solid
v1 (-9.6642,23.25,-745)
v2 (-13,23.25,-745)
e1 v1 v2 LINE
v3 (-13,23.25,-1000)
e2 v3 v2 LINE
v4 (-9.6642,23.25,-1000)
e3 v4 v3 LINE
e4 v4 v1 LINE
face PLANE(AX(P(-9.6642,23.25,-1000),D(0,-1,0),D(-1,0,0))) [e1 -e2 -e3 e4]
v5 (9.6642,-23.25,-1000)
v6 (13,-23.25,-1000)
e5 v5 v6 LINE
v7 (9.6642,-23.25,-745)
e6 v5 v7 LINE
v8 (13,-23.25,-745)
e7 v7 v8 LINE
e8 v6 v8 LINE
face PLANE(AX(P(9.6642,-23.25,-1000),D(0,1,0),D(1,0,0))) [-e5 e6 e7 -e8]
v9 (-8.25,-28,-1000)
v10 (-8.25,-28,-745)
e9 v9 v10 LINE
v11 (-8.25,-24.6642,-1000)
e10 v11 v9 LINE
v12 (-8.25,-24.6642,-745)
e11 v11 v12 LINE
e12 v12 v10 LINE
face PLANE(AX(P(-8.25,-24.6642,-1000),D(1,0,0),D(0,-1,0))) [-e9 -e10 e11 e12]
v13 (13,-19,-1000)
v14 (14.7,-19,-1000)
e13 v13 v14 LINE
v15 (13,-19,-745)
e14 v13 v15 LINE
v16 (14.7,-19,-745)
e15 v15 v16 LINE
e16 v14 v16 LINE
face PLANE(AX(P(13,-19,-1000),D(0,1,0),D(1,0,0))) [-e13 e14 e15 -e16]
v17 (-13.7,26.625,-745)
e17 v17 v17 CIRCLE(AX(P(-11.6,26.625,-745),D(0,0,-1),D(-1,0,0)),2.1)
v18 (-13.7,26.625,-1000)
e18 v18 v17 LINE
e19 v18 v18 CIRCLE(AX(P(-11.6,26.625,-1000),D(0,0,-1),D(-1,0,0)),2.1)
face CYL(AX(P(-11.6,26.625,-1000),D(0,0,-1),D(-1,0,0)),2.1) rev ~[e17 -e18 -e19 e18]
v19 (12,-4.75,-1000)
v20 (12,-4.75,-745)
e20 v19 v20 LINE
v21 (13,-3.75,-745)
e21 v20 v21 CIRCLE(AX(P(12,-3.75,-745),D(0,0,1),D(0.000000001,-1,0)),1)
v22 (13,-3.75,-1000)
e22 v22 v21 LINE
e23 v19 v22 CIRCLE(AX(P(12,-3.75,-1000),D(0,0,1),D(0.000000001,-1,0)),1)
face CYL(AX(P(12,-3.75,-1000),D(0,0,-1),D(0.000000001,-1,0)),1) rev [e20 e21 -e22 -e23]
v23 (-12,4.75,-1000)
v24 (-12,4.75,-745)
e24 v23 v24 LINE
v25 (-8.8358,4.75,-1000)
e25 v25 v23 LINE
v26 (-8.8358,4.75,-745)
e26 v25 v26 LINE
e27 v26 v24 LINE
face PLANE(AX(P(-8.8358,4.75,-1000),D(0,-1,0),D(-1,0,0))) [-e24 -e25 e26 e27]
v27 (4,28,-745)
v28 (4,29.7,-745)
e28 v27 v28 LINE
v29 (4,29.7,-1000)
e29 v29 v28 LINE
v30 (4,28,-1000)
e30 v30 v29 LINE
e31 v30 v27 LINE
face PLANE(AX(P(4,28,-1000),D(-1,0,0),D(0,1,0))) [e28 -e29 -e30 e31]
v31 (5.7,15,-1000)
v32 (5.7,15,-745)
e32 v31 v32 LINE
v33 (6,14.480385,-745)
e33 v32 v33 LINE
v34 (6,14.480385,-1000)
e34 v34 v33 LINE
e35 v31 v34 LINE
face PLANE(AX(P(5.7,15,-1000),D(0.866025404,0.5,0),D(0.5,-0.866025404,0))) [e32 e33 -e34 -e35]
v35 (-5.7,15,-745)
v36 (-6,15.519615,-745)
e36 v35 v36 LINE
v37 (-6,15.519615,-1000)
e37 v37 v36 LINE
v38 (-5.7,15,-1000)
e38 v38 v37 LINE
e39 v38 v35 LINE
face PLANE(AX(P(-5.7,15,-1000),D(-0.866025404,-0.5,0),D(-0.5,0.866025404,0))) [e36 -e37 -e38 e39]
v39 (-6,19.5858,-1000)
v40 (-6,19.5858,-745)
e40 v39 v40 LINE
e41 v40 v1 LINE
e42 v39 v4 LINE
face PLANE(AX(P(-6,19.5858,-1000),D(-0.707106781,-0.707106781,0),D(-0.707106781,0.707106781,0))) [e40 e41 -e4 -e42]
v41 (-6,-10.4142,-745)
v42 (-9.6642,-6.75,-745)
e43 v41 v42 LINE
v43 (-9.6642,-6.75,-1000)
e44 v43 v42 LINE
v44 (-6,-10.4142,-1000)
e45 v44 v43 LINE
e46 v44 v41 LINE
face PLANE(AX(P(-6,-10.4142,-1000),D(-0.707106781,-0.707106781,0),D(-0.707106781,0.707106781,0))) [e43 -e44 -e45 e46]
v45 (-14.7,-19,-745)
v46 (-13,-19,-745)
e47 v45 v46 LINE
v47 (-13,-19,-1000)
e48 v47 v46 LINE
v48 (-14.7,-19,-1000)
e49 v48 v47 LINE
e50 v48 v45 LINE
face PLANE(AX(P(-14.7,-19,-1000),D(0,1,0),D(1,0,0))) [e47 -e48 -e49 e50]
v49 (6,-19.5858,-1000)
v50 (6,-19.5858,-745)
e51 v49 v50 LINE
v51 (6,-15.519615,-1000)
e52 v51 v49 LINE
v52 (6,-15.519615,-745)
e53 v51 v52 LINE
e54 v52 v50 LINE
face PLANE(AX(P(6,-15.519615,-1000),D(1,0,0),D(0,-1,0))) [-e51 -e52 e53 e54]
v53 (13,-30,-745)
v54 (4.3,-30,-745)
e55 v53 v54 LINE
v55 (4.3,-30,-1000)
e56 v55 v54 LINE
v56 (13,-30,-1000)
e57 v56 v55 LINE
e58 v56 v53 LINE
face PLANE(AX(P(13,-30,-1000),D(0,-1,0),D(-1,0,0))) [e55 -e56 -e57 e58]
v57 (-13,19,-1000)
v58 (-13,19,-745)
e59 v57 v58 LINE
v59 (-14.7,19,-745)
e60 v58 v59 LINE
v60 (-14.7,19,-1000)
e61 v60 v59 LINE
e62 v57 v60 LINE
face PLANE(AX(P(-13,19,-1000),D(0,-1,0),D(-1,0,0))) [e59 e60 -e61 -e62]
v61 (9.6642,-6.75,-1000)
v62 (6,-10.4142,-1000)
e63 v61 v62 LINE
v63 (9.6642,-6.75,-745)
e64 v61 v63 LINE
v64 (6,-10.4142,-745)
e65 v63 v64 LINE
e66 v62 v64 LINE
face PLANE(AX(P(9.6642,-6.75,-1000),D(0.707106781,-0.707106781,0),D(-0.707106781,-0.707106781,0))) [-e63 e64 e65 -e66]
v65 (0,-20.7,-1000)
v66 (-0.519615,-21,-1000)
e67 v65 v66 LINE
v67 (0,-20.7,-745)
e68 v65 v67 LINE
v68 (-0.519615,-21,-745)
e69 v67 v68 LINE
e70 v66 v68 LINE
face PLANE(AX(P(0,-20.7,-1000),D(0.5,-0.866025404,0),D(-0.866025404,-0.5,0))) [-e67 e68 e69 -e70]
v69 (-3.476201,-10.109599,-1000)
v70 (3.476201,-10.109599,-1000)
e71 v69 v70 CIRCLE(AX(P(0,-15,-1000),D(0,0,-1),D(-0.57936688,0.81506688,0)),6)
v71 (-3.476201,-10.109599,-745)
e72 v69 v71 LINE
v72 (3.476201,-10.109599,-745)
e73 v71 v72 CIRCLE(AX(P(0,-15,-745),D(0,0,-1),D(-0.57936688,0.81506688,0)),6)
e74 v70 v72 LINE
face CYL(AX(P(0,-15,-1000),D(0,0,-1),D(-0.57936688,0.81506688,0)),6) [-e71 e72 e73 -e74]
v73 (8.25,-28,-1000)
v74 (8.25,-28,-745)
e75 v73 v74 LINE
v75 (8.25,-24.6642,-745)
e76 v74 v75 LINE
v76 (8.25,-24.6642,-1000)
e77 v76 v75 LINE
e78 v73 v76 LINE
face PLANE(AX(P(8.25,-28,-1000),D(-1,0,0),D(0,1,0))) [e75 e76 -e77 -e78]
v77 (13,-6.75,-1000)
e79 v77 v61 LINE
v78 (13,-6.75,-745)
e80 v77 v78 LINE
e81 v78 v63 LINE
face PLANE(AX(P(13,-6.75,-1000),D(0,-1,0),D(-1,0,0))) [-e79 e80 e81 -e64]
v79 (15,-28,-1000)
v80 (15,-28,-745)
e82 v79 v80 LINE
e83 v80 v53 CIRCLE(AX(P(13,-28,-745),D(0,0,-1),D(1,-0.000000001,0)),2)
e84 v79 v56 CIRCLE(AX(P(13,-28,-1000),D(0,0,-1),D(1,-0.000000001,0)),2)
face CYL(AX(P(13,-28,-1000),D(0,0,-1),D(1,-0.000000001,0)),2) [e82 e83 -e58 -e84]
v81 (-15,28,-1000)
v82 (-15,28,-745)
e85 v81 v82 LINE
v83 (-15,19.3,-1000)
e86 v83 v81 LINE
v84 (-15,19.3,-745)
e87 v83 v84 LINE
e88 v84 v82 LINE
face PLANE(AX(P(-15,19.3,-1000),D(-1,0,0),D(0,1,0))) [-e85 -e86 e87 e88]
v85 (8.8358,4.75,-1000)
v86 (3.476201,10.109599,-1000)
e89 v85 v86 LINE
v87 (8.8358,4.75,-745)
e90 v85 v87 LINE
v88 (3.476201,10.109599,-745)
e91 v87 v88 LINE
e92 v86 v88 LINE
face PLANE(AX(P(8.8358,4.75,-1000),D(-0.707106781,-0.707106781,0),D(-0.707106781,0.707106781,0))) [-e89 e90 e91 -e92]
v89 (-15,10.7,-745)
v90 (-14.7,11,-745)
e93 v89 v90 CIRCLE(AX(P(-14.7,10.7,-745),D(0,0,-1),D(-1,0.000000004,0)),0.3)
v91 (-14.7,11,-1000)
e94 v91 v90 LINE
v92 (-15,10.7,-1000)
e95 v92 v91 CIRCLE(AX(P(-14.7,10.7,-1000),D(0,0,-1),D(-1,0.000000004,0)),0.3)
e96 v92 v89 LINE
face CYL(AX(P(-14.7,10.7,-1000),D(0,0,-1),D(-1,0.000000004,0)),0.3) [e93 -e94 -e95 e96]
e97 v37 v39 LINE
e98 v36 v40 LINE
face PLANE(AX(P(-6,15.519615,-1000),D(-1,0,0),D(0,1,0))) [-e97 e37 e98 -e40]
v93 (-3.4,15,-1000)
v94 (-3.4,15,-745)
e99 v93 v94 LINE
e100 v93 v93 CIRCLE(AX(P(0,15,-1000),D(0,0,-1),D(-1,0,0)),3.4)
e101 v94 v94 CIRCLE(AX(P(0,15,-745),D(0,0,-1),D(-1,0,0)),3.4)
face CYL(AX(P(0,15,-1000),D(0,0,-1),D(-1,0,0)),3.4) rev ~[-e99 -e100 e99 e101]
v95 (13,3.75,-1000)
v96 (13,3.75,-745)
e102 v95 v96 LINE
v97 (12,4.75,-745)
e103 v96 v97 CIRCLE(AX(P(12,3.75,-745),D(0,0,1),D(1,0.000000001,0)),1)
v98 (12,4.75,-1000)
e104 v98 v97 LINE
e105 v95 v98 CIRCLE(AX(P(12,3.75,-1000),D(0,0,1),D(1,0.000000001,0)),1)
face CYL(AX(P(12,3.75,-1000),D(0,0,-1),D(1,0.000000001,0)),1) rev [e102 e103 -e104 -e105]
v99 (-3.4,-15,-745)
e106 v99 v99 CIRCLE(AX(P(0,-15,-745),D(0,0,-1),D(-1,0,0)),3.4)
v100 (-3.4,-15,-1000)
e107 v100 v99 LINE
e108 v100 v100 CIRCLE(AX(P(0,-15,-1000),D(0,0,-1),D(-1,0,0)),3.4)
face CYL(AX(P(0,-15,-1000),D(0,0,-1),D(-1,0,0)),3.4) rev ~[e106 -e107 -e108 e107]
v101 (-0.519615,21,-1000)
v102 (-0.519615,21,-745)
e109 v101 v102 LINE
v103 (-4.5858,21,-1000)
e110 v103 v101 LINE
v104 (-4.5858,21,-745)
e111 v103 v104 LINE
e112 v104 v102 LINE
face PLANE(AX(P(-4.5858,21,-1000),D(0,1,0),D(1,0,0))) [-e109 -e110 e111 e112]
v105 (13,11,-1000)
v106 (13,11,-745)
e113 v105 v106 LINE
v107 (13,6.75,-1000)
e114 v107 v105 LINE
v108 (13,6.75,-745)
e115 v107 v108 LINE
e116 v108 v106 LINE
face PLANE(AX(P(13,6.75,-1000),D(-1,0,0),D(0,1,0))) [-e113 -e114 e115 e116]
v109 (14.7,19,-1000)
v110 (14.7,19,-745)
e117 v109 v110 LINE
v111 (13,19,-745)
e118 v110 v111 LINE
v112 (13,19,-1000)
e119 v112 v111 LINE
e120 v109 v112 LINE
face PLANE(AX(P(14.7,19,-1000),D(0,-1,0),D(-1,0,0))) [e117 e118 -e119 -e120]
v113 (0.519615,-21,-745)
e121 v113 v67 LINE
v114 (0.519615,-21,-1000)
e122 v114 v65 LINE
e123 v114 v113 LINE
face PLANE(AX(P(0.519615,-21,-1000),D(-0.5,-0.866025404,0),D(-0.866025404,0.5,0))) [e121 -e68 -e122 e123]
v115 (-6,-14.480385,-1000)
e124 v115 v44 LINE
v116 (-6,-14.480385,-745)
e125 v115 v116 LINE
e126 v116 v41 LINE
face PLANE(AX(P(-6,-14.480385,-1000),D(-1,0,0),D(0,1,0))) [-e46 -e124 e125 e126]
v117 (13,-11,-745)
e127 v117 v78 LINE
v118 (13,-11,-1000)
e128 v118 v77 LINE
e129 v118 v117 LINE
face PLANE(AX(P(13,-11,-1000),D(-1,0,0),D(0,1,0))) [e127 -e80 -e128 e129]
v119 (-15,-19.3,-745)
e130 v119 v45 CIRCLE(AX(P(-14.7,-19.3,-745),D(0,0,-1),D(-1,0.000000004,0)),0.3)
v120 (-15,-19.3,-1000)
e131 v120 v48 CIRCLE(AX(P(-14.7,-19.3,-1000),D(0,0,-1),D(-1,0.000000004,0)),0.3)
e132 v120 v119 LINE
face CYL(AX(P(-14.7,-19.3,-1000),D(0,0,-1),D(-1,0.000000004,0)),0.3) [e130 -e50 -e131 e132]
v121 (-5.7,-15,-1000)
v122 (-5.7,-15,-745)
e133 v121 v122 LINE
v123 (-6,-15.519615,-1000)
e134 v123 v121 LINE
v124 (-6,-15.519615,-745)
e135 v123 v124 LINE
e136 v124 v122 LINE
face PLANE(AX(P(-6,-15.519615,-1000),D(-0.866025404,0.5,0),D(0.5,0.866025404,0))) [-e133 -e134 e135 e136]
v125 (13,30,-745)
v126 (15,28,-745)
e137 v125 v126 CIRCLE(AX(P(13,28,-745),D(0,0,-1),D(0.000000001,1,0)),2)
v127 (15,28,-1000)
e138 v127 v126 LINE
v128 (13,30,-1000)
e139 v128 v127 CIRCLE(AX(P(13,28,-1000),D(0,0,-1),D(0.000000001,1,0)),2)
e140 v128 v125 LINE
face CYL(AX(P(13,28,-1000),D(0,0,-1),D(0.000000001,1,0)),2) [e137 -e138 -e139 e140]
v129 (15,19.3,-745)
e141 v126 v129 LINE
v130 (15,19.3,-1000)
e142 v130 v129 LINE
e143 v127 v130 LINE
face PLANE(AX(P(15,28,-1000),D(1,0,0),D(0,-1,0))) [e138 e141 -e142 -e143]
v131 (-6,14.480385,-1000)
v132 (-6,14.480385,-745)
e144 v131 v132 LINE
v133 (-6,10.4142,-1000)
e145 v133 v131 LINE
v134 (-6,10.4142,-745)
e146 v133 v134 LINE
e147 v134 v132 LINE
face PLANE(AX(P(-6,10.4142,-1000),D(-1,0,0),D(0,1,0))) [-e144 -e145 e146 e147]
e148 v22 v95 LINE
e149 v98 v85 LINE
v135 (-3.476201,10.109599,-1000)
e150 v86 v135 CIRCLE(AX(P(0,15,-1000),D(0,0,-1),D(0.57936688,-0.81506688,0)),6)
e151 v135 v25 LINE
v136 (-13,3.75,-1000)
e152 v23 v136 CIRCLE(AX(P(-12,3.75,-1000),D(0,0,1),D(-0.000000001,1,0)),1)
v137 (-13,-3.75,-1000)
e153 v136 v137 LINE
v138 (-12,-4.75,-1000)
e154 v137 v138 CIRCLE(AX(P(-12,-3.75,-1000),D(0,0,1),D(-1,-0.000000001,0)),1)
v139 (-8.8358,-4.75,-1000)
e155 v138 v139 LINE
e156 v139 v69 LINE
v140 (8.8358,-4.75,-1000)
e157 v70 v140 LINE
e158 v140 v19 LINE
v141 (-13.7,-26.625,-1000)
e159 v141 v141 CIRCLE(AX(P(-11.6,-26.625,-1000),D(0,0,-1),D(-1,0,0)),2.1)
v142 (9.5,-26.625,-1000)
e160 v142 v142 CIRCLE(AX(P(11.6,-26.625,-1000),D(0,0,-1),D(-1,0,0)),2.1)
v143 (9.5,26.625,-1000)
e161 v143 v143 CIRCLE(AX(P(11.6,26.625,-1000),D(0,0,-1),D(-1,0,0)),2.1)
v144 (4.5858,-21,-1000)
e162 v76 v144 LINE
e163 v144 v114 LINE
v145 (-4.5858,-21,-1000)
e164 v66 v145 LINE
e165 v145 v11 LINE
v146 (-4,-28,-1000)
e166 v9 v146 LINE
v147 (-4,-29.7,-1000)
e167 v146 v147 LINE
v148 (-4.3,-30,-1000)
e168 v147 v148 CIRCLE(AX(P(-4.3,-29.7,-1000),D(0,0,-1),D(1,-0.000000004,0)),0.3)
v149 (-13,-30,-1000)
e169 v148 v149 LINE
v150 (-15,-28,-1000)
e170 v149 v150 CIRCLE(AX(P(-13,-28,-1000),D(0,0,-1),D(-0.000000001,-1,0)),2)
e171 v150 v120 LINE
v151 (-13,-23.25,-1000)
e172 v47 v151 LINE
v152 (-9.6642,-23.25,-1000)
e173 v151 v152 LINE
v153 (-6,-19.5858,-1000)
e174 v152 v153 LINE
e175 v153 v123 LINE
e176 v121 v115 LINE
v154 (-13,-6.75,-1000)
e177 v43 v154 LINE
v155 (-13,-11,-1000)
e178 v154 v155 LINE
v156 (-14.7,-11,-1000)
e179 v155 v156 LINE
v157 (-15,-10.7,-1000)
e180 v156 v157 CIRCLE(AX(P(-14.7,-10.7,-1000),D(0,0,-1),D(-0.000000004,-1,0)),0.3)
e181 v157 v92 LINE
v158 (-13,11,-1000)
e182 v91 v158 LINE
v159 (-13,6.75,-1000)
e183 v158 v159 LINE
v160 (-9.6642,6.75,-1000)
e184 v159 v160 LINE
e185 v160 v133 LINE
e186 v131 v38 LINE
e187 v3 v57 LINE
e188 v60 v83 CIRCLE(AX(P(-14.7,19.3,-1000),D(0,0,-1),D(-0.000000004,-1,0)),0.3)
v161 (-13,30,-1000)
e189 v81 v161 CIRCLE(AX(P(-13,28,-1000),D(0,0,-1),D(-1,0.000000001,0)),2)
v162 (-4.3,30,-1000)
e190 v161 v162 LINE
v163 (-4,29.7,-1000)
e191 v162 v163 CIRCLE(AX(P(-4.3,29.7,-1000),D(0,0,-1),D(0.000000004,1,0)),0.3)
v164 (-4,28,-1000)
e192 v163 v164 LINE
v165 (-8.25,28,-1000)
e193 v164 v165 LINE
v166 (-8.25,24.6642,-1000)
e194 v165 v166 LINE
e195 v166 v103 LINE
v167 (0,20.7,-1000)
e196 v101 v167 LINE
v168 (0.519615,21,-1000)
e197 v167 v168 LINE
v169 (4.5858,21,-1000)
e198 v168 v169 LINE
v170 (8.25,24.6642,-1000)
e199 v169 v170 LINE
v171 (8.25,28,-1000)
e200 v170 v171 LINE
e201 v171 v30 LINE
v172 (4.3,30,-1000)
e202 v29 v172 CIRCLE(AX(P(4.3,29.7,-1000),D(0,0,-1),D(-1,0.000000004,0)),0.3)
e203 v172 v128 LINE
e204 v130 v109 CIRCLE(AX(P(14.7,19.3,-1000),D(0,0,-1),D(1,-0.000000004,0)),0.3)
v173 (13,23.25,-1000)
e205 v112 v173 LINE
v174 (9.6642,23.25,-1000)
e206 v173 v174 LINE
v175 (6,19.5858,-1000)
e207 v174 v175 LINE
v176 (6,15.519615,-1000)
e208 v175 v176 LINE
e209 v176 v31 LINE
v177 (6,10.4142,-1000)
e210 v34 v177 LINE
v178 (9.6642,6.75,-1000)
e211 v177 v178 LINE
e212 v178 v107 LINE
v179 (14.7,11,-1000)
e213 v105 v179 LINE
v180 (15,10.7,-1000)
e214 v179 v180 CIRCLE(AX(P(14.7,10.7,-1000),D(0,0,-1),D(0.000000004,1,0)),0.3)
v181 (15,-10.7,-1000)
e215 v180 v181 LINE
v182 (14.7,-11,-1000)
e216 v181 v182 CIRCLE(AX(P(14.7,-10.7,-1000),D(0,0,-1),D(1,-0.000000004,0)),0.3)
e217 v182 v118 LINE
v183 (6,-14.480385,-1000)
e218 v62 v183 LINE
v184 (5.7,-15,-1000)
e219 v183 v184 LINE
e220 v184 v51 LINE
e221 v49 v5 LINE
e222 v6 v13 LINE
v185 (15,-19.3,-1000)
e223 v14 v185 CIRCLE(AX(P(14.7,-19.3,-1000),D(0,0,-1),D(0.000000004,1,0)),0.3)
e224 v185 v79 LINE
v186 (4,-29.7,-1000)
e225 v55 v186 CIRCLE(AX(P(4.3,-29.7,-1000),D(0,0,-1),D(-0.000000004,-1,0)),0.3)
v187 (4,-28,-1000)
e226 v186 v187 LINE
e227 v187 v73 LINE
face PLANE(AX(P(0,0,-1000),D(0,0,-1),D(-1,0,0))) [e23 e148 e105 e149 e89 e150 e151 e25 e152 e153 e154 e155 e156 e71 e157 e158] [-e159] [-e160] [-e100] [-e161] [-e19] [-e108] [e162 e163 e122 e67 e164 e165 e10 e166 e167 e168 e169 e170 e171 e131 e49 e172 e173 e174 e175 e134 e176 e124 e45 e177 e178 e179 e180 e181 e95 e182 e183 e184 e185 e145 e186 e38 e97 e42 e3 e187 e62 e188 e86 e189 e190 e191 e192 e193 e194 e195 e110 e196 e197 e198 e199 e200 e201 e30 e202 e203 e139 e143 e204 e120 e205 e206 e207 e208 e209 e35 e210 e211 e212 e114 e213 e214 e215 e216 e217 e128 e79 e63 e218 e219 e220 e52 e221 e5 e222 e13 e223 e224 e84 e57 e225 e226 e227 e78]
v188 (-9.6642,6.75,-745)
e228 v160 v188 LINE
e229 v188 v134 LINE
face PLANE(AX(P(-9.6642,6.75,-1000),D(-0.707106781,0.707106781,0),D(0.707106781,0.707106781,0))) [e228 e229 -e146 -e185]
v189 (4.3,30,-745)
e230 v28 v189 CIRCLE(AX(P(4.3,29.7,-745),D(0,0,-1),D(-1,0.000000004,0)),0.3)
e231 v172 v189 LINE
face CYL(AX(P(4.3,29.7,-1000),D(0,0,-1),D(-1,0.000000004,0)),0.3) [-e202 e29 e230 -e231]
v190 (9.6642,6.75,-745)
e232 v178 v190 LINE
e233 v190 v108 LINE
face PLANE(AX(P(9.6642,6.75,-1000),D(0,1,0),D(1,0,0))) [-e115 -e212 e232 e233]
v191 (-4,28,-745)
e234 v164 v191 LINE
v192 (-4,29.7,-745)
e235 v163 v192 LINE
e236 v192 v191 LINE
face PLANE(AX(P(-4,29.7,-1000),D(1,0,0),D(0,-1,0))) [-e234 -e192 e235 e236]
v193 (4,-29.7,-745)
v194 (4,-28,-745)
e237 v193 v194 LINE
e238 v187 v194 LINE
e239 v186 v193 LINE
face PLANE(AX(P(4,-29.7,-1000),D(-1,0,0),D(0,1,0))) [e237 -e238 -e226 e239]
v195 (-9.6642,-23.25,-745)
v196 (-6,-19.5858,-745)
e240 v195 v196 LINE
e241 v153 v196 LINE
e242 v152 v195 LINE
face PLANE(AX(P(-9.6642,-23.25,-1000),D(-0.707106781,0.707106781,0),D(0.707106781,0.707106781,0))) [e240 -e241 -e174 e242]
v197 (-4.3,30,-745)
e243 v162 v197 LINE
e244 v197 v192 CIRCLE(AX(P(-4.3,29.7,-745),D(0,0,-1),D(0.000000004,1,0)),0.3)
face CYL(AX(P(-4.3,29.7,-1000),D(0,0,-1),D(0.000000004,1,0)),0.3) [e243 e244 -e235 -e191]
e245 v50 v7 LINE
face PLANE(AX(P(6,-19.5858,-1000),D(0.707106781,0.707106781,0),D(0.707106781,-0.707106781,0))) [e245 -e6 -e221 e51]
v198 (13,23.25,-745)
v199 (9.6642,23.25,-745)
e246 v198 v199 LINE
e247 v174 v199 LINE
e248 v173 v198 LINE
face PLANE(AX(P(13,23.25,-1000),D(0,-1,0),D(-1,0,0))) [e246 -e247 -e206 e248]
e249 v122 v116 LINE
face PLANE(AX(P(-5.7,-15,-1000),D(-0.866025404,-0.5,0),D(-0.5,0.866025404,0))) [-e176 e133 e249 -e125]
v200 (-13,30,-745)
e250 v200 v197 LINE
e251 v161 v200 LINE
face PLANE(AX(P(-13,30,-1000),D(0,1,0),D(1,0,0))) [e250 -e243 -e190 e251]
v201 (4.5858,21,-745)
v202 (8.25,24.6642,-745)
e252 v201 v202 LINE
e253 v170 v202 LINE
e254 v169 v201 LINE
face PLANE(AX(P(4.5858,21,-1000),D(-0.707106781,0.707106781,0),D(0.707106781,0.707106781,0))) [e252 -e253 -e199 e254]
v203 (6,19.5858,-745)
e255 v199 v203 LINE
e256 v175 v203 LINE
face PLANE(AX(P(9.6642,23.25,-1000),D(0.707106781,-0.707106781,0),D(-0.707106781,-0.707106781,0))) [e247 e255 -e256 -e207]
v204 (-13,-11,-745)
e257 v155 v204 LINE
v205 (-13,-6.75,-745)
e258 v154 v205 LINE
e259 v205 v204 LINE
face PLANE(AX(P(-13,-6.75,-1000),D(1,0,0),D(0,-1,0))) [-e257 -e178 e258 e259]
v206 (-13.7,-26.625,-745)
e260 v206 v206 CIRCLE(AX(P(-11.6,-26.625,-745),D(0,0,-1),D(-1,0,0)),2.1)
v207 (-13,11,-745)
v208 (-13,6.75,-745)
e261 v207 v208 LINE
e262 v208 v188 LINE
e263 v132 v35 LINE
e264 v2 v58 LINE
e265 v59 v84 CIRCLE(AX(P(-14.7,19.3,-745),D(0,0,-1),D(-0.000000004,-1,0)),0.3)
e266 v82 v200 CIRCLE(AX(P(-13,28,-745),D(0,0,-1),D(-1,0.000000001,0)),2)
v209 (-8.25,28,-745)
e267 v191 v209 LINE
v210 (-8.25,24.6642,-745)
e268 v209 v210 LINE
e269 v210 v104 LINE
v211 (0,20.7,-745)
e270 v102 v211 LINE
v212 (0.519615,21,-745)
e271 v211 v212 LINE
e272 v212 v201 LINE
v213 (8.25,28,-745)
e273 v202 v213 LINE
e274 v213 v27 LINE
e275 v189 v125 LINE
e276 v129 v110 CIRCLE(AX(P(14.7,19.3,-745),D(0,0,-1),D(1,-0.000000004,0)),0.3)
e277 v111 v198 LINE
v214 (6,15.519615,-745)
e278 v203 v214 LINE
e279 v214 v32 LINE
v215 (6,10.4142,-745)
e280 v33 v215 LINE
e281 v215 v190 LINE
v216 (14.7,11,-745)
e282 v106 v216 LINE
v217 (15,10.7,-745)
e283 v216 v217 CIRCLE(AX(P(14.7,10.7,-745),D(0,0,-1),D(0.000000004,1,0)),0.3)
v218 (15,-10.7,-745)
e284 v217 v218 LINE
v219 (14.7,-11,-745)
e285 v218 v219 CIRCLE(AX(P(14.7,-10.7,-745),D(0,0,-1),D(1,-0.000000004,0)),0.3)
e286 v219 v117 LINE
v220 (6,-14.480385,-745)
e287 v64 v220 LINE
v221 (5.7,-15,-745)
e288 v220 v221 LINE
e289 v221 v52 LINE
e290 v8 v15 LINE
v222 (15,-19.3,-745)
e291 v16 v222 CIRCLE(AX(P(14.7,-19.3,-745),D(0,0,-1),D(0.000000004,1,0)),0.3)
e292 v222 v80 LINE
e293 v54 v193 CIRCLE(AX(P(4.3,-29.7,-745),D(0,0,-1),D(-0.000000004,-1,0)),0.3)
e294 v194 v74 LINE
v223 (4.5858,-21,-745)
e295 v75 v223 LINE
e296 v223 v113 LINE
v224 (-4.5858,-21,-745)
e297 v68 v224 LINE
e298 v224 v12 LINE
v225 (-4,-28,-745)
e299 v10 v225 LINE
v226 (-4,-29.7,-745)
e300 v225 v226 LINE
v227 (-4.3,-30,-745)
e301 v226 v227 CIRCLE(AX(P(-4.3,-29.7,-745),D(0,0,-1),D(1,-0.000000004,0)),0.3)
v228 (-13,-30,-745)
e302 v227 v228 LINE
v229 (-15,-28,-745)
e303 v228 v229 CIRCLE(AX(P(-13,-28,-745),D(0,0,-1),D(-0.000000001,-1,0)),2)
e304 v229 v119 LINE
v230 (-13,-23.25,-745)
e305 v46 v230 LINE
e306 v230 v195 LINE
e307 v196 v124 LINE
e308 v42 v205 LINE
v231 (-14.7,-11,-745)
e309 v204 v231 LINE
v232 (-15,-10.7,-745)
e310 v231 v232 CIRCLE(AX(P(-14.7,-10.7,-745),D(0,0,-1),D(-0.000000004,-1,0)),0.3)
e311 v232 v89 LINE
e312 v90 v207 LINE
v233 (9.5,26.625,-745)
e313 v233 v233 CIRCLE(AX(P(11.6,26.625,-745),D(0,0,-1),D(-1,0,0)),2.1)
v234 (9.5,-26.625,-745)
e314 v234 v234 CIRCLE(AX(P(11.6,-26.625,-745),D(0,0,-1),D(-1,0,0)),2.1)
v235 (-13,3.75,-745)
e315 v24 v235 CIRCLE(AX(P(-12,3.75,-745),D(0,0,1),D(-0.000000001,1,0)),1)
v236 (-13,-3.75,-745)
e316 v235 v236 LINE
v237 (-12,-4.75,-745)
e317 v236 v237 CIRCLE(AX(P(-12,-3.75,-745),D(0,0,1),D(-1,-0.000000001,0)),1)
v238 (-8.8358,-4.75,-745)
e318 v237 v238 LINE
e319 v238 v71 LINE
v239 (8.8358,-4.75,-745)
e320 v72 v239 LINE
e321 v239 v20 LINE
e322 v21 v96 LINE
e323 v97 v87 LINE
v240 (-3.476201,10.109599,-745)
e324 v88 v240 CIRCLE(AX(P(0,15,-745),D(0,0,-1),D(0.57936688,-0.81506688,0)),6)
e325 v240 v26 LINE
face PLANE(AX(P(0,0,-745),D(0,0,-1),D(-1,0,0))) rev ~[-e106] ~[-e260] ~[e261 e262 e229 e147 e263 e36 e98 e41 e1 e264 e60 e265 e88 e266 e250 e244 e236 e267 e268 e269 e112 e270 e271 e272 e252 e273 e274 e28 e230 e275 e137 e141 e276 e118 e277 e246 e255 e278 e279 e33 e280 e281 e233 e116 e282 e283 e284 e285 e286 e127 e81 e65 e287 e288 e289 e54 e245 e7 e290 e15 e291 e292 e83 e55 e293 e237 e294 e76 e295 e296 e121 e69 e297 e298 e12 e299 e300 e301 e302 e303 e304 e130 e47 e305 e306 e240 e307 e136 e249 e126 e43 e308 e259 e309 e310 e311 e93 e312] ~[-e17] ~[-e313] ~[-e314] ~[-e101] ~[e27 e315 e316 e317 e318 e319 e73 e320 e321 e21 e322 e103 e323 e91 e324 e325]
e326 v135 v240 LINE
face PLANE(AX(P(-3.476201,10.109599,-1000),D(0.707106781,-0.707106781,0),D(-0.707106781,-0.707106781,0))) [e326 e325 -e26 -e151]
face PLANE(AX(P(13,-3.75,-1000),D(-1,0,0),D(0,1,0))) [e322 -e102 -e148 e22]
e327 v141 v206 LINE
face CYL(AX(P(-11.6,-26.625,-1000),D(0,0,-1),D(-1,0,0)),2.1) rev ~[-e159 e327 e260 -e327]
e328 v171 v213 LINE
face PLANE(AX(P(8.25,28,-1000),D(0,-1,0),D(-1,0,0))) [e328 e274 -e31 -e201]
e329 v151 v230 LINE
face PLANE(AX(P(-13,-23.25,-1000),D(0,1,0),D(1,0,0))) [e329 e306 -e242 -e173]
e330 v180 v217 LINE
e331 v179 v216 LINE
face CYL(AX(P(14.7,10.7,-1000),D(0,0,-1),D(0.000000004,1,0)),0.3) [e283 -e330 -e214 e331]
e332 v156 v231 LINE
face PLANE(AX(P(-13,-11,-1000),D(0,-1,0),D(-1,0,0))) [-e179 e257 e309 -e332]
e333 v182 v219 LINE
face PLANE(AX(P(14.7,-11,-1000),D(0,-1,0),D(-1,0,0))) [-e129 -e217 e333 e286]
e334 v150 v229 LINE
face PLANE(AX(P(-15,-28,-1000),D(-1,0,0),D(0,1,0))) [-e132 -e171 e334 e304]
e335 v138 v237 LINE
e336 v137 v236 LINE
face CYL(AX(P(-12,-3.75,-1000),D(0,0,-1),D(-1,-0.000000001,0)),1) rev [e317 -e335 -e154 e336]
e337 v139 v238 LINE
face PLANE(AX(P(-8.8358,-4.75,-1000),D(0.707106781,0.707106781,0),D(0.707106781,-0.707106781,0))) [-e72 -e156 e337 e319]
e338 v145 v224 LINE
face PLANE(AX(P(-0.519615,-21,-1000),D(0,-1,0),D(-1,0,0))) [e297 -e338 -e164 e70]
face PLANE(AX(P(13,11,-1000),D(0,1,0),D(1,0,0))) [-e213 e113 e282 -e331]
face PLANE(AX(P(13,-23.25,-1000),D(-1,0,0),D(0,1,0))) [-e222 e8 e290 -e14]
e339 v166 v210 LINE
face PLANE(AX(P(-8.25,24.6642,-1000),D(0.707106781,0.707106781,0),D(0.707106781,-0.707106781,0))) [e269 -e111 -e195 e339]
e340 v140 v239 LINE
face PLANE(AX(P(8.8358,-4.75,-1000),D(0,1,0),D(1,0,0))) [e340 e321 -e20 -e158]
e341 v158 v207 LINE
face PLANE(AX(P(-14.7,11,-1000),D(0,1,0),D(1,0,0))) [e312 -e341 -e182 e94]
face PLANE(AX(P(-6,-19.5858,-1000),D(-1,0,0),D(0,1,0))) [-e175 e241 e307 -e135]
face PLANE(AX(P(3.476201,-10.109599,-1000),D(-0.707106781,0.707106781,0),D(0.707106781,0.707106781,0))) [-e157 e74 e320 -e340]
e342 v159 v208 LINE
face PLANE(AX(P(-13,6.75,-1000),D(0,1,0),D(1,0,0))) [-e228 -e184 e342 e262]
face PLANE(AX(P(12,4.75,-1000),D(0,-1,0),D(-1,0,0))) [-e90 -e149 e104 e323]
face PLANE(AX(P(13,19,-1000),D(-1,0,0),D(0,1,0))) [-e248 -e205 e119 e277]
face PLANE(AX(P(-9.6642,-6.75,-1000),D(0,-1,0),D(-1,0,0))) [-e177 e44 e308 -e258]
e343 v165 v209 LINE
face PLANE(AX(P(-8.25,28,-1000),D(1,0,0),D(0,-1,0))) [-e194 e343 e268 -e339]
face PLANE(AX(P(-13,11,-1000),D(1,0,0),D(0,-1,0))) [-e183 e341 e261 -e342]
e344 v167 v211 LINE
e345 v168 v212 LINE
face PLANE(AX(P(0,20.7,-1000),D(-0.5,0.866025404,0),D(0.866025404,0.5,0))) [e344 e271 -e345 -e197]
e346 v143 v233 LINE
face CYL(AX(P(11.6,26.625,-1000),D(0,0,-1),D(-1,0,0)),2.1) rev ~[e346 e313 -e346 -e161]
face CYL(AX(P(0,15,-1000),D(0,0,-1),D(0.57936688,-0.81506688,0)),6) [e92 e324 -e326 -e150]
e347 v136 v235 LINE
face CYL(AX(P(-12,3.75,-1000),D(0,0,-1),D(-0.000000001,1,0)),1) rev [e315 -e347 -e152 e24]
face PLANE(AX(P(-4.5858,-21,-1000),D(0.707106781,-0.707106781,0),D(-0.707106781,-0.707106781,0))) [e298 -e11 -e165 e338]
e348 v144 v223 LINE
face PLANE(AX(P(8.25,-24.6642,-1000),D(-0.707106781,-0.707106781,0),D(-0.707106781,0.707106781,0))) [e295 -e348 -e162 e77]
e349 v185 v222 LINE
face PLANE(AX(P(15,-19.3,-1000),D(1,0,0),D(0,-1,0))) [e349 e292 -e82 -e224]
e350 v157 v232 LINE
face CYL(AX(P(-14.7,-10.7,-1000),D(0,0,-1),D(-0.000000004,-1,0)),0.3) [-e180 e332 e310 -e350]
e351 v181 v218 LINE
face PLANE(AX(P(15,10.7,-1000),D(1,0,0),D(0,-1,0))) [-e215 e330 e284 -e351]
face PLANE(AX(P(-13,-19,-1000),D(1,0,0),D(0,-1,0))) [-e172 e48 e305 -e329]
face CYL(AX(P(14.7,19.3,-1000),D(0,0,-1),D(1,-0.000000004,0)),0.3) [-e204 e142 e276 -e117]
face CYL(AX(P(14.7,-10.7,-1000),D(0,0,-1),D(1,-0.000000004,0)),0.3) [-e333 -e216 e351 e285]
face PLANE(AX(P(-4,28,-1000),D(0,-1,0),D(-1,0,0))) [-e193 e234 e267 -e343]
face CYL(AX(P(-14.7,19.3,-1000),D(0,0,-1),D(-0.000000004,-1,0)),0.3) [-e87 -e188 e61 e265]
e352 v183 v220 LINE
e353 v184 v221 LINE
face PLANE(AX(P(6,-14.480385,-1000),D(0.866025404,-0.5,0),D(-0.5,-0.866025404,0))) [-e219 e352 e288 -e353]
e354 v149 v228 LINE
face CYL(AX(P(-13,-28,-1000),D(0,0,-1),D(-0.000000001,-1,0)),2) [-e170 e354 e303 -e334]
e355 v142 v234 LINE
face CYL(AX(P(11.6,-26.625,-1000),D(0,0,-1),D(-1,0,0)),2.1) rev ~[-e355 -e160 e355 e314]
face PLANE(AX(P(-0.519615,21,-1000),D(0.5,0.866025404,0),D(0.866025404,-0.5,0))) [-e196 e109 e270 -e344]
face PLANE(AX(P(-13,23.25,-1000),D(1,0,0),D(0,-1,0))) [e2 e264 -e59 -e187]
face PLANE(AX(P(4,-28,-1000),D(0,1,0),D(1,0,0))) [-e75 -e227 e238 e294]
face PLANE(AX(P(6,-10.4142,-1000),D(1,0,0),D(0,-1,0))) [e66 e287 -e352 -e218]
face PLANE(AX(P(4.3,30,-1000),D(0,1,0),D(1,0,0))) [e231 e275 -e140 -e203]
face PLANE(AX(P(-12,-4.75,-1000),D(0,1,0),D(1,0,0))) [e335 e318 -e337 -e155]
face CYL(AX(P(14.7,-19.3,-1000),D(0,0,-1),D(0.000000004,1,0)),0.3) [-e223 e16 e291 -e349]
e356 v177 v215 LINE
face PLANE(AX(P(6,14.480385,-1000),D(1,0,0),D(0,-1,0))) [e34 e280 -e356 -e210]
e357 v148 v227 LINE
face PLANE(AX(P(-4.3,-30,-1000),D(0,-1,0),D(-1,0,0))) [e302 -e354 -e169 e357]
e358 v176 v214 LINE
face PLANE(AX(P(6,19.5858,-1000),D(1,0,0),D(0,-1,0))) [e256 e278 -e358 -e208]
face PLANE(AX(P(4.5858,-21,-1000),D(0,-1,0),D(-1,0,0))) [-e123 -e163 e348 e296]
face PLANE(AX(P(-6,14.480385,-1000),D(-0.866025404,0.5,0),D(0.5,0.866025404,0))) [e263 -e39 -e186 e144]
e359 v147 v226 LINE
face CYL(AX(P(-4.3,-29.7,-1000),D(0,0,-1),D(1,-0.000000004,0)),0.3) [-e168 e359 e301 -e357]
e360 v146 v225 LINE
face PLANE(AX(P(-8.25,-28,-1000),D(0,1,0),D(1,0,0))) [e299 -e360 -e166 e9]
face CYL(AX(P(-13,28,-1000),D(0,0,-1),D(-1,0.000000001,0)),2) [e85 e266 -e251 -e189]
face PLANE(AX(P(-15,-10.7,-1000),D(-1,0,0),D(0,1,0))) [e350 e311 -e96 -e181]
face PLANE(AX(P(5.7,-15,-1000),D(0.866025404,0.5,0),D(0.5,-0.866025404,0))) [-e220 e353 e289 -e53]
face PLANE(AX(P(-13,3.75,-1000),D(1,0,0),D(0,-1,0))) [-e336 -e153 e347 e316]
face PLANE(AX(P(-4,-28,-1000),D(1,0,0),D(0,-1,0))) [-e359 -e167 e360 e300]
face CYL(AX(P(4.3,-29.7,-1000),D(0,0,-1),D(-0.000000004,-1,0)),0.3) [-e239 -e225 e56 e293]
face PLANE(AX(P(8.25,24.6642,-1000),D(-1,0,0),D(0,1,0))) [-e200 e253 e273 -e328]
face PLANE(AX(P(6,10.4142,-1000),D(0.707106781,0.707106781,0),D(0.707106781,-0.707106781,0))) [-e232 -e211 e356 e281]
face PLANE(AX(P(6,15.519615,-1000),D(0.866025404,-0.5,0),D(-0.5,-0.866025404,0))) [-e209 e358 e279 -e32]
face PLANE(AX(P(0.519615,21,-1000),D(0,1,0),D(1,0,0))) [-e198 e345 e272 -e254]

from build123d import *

# Parameters (mm, degrees)
SKETCH1_R           = 2.1
SKETCH1_R_2         = 3.4
BOSS_EXTRUDE1_DEPTH = 255


with BuildPart() as part:
    # Sketch1 → Boss-Extrude1 (new body)
    with BuildSketch(Plane(origin=(0, 0, -1000), x_dir=(-1, 0, 0), z_dir=(0, 0, -1))):
        with BuildLine():
            Line((15, -28), (15, -19.3))
            ThreePointArc((15, -19.3), (14.912132034, -19.087867966), (14.7, -19))
            Line((14.7, -19), (13, -19))
            Line((13, -19), (13, -23.25))
            Line((13, -23.25), (9.6642, -23.25))
            Line((9.6642, -23.25), (6, -19.5858))
            Line((6, -19.5858), (6, -15.519615242))
            Line((6, -15.519615242), (5.7, -15))
            Line((5.7, -15), (6, -14.480384758))
            Line((6, -14.480384758), (6, -10.4142))
            Line((6, -10.4142), (9.6642, -6.75))
            Line((9.6642, -6.75), (13, -6.75))
            Line((13, -6.75), (13, -11))
            Line((13, -11), (14.7, -11))
            ThreePointArc((14.7, -11), (14.912132034, -10.912132034), (15, -10.7))
            Line((15, -10.7), (15, 10.7))
            ThreePointArc((15, 10.7), (14.912132034, 10.912132034), (14.7, 11))
            Line((14.7, 11), (13, 11))
            Line((13, 11), (13, 6.75))
            Line((13, 6.75), (9.6642, 6.75))
            Line((9.6642, 6.75), (6, 10.4142))
            Line((6, 10.4142), (6, 14.480384758))
            Line((6, 14.480384758), (5.7, 15))
            Line((5.7, 15), (6, 15.519615242))
            Line((6, 15.519615242), (6, 19.5858))
            Line((6, 19.5858), (9.6642, 23.25))
            Line((9.6642, 23.25), (13, 23.25))
            Line((13, 23.25), (13, 19))
            Line((13, 19), (14.7, 19))
            ThreePointArc((14.7, 19), (14.912132034, 19.087867966), (15, 19.3))
            Line((15, 19.3), (15, 28))
            ThreePointArc((15, 28), (14.414213562, 29.414213562), (13, 30))
            Line((13, 30), (4.3, 30))
            ThreePointArc((4.3, 30), (4.087867966, 29.912132034), (4, 29.7))
            Line((4, 29.7), (4, 28))
            Line((4, 28), (8.25, 28))
            Line((8.25, 28), (8.25, 24.6642))
            Line((8.25, 24.6642), (4.5858, 21))
            Line((4.5858, 21), (0.519615242, 21))
            Line((0.519615242, 21), (0, 20.7))
            Line((0, 20.7), (-0.519615242, 21))
            Line((-0.519615242, 21), (-4.5858, 21))
            Line((-4.5858, 21), (-8.25, 24.6642))
            Line((-8.25, 24.6642), (-8.25, 28))
            Line((-8.25, 28), (-4, 28))
            Line((-4, 28), (-4, 29.7))
            ThreePointArc((-4, 29.7), (-4.087867966, 29.912132034), (-4.3, 30))
            Line((-4.3, 30), (-13, 30))
            ThreePointArc((-13, 30), (-14.414213562, 29.414213562), (-15, 28))
            Line((-15, 28), (-15, 19.3))
            ThreePointArc((-15, 19.3), (-14.912132034, 19.087867966), (-14.7, 19))
            Line((-14.7, 19), (-13, 19))
            Line((-13, 19), (-13, 23.25))
            Line((-13, 23.25), (-9.6642, 23.25))
            Line((-9.6642, 23.25), (-6, 19.5858))
            Line((-6, 19.5858), (-6, 15.519615242))
            Line((-6, 15.519615242), (-5.7, 15))
            Line((-5.7, 15), (-6, 14.480384758))
            Line((-6, 14.480384758), (-6, 10.4142))
            Line((-6, 10.4142), (-9.6642, 6.75))
            Line((-9.6642, 6.75), (-13, 6.75))
            Line((-13, 6.75), (-13, 11))
            Line((-13, 11), (-14.7, 11))
            ThreePointArc((-14.7, 11), (-14.912132034, 10.912132034), (-15, 10.7))
            Line((-15, 10.7), (-15, -10.7))
            ThreePointArc((-15, -10.7), (-14.912132034, -10.912132034), (-14.7, -11))
            Line((-14.7, -11), (-13, -11))
            Line((-13, -11), (-13, -6.75))
            Line((-13, -6.75), (-9.6642, -6.75))
            Line((-9.6642, -6.75), (-6, -10.4142))
            Line((-6, -10.4142), (-6, -14.480384758))
            Line((-6, -14.480384758), (-5.7, -15))
            Line((-5.7, -15), (-6, -15.519615242))
            Line((-6, -15.519615242), (-6, -19.5858))
            Line((-6, -19.5858), (-9.6642, -23.25))
            Line((-9.6642, -23.25), (-13, -23.25))
            Line((-13, -23.25), (-13, -19))
            Line((-13, -19), (-14.7, -19))
            ThreePointArc((-14.7, -19), (-14.912132034, -19.087867966), (-15, -19.3))
            Line((-15, -19.3), (-15, -28))
            ThreePointArc((-15, -28), (-14.414213562, -29.414213562), (-13, -30))
            Line((-13, -30), (-4.3, -30))
            ThreePointArc((-4.3, -30), (-4.087867966, -29.912132034), (-4, -29.7))
            Line((-4, -29.7), (-4, -28))
            Line((-4, -28), (-8.25, -28))
            Line((-8.25, -28), (-8.25, -24.6642))
            Line((-8.25, -24.6642), (-4.5858, -21))
            Line((-4.5858, -21), (-0.519615242, -21))
            Line((-0.519615242, -21), (0, -20.7))
            Line((0, -20.7), (0.519615242, -21))
            Line((0.519615242, -21), (4.5858, -21))
            Line((4.5858, -21), (8.25, -24.6642))
            Line((8.25, -24.6642), (8.25, -28))
            Line((8.25, -28), (4, -28))
            Line((4, -28), (4, -29.7))
            ThreePointArc((4, -29.7), (4.087867966, -29.912132034), (4.3, -30))
            Line((4.3, -30), (13, -30))
            ThreePointArc((13, -30), (14.414213562, -29.414213562), (15, -28))
        make_face()
        with Locations((11.6, 26.625)):
            Circle(SKETCH1_R, mode=Mode.SUBTRACT)
        with Locations((11.6, -26.625)):
            Circle(SKETCH1_R, mode=Mode.SUBTRACT)
        with Locations((0, -15)):
            Circle(SKETCH1_R_2, mode=Mode.SUBTRACT)
        with Locations((0, 15)):
            Circle(SKETCH1_R_2, mode=Mode.SUBTRACT)
        with Locations((-11.6, 26.625)):
            Circle(SKETCH1_R, mode=Mode.SUBTRACT)
        with Locations((-11.6, -26.625)):
            Circle(SKETCH1_R, mode=Mode.SUBTRACT)
        with BuildLine():
            Line((13, 3.75), (13, -3.75))
            ThreePointArc((13, -3.75), (12.707106781, -4.457106781), (12, -4.75))
            Line((12, -4.75), (8.8358, -4.75))
            Line((8.8358, -4.75), (3.476201279, -10.109598721))
            ThreePointArc((3.476201279, -10.109598721), (0, -9), (-3.476201279, -10.109598721))
            Line((-3.476201279, -10.109598721), (-8.8358, -4.75))
            Line((-8.8358, -4.75), (-12, -4.75))
            ThreePointArc((-12, -4.75), (-12.707106781, -4.457106781), (-13, -3.75))
            Line((-13, -3.75), (-13, 3.75))
            ThreePointArc((-13, 3.75), (-12.707106781, 4.457106781), (-12, 4.75))
            Line((-12, 4.75), (-8.8358, 4.75))
            Line((-8.8358, 4.75), (-3.476201279, 10.109598721))
            ThreePointArc((-3.476201279, 10.109598721), (0, 9), (3.476201279, 10.109598721))
            Line((3.476201279, 10.109598721), (8.8358, 4.75))
            Line((8.8358, 4.75), (12, 4.75))
            ThreePointArc((12, 4.75), (12.707106781, 4.457106781), (13, 3.75))
        make_face(mode=Mode.SUBTRACT)
    extrude(amount=-BOSS_EXTRUDE1_DEPTH)


solid = part.part
